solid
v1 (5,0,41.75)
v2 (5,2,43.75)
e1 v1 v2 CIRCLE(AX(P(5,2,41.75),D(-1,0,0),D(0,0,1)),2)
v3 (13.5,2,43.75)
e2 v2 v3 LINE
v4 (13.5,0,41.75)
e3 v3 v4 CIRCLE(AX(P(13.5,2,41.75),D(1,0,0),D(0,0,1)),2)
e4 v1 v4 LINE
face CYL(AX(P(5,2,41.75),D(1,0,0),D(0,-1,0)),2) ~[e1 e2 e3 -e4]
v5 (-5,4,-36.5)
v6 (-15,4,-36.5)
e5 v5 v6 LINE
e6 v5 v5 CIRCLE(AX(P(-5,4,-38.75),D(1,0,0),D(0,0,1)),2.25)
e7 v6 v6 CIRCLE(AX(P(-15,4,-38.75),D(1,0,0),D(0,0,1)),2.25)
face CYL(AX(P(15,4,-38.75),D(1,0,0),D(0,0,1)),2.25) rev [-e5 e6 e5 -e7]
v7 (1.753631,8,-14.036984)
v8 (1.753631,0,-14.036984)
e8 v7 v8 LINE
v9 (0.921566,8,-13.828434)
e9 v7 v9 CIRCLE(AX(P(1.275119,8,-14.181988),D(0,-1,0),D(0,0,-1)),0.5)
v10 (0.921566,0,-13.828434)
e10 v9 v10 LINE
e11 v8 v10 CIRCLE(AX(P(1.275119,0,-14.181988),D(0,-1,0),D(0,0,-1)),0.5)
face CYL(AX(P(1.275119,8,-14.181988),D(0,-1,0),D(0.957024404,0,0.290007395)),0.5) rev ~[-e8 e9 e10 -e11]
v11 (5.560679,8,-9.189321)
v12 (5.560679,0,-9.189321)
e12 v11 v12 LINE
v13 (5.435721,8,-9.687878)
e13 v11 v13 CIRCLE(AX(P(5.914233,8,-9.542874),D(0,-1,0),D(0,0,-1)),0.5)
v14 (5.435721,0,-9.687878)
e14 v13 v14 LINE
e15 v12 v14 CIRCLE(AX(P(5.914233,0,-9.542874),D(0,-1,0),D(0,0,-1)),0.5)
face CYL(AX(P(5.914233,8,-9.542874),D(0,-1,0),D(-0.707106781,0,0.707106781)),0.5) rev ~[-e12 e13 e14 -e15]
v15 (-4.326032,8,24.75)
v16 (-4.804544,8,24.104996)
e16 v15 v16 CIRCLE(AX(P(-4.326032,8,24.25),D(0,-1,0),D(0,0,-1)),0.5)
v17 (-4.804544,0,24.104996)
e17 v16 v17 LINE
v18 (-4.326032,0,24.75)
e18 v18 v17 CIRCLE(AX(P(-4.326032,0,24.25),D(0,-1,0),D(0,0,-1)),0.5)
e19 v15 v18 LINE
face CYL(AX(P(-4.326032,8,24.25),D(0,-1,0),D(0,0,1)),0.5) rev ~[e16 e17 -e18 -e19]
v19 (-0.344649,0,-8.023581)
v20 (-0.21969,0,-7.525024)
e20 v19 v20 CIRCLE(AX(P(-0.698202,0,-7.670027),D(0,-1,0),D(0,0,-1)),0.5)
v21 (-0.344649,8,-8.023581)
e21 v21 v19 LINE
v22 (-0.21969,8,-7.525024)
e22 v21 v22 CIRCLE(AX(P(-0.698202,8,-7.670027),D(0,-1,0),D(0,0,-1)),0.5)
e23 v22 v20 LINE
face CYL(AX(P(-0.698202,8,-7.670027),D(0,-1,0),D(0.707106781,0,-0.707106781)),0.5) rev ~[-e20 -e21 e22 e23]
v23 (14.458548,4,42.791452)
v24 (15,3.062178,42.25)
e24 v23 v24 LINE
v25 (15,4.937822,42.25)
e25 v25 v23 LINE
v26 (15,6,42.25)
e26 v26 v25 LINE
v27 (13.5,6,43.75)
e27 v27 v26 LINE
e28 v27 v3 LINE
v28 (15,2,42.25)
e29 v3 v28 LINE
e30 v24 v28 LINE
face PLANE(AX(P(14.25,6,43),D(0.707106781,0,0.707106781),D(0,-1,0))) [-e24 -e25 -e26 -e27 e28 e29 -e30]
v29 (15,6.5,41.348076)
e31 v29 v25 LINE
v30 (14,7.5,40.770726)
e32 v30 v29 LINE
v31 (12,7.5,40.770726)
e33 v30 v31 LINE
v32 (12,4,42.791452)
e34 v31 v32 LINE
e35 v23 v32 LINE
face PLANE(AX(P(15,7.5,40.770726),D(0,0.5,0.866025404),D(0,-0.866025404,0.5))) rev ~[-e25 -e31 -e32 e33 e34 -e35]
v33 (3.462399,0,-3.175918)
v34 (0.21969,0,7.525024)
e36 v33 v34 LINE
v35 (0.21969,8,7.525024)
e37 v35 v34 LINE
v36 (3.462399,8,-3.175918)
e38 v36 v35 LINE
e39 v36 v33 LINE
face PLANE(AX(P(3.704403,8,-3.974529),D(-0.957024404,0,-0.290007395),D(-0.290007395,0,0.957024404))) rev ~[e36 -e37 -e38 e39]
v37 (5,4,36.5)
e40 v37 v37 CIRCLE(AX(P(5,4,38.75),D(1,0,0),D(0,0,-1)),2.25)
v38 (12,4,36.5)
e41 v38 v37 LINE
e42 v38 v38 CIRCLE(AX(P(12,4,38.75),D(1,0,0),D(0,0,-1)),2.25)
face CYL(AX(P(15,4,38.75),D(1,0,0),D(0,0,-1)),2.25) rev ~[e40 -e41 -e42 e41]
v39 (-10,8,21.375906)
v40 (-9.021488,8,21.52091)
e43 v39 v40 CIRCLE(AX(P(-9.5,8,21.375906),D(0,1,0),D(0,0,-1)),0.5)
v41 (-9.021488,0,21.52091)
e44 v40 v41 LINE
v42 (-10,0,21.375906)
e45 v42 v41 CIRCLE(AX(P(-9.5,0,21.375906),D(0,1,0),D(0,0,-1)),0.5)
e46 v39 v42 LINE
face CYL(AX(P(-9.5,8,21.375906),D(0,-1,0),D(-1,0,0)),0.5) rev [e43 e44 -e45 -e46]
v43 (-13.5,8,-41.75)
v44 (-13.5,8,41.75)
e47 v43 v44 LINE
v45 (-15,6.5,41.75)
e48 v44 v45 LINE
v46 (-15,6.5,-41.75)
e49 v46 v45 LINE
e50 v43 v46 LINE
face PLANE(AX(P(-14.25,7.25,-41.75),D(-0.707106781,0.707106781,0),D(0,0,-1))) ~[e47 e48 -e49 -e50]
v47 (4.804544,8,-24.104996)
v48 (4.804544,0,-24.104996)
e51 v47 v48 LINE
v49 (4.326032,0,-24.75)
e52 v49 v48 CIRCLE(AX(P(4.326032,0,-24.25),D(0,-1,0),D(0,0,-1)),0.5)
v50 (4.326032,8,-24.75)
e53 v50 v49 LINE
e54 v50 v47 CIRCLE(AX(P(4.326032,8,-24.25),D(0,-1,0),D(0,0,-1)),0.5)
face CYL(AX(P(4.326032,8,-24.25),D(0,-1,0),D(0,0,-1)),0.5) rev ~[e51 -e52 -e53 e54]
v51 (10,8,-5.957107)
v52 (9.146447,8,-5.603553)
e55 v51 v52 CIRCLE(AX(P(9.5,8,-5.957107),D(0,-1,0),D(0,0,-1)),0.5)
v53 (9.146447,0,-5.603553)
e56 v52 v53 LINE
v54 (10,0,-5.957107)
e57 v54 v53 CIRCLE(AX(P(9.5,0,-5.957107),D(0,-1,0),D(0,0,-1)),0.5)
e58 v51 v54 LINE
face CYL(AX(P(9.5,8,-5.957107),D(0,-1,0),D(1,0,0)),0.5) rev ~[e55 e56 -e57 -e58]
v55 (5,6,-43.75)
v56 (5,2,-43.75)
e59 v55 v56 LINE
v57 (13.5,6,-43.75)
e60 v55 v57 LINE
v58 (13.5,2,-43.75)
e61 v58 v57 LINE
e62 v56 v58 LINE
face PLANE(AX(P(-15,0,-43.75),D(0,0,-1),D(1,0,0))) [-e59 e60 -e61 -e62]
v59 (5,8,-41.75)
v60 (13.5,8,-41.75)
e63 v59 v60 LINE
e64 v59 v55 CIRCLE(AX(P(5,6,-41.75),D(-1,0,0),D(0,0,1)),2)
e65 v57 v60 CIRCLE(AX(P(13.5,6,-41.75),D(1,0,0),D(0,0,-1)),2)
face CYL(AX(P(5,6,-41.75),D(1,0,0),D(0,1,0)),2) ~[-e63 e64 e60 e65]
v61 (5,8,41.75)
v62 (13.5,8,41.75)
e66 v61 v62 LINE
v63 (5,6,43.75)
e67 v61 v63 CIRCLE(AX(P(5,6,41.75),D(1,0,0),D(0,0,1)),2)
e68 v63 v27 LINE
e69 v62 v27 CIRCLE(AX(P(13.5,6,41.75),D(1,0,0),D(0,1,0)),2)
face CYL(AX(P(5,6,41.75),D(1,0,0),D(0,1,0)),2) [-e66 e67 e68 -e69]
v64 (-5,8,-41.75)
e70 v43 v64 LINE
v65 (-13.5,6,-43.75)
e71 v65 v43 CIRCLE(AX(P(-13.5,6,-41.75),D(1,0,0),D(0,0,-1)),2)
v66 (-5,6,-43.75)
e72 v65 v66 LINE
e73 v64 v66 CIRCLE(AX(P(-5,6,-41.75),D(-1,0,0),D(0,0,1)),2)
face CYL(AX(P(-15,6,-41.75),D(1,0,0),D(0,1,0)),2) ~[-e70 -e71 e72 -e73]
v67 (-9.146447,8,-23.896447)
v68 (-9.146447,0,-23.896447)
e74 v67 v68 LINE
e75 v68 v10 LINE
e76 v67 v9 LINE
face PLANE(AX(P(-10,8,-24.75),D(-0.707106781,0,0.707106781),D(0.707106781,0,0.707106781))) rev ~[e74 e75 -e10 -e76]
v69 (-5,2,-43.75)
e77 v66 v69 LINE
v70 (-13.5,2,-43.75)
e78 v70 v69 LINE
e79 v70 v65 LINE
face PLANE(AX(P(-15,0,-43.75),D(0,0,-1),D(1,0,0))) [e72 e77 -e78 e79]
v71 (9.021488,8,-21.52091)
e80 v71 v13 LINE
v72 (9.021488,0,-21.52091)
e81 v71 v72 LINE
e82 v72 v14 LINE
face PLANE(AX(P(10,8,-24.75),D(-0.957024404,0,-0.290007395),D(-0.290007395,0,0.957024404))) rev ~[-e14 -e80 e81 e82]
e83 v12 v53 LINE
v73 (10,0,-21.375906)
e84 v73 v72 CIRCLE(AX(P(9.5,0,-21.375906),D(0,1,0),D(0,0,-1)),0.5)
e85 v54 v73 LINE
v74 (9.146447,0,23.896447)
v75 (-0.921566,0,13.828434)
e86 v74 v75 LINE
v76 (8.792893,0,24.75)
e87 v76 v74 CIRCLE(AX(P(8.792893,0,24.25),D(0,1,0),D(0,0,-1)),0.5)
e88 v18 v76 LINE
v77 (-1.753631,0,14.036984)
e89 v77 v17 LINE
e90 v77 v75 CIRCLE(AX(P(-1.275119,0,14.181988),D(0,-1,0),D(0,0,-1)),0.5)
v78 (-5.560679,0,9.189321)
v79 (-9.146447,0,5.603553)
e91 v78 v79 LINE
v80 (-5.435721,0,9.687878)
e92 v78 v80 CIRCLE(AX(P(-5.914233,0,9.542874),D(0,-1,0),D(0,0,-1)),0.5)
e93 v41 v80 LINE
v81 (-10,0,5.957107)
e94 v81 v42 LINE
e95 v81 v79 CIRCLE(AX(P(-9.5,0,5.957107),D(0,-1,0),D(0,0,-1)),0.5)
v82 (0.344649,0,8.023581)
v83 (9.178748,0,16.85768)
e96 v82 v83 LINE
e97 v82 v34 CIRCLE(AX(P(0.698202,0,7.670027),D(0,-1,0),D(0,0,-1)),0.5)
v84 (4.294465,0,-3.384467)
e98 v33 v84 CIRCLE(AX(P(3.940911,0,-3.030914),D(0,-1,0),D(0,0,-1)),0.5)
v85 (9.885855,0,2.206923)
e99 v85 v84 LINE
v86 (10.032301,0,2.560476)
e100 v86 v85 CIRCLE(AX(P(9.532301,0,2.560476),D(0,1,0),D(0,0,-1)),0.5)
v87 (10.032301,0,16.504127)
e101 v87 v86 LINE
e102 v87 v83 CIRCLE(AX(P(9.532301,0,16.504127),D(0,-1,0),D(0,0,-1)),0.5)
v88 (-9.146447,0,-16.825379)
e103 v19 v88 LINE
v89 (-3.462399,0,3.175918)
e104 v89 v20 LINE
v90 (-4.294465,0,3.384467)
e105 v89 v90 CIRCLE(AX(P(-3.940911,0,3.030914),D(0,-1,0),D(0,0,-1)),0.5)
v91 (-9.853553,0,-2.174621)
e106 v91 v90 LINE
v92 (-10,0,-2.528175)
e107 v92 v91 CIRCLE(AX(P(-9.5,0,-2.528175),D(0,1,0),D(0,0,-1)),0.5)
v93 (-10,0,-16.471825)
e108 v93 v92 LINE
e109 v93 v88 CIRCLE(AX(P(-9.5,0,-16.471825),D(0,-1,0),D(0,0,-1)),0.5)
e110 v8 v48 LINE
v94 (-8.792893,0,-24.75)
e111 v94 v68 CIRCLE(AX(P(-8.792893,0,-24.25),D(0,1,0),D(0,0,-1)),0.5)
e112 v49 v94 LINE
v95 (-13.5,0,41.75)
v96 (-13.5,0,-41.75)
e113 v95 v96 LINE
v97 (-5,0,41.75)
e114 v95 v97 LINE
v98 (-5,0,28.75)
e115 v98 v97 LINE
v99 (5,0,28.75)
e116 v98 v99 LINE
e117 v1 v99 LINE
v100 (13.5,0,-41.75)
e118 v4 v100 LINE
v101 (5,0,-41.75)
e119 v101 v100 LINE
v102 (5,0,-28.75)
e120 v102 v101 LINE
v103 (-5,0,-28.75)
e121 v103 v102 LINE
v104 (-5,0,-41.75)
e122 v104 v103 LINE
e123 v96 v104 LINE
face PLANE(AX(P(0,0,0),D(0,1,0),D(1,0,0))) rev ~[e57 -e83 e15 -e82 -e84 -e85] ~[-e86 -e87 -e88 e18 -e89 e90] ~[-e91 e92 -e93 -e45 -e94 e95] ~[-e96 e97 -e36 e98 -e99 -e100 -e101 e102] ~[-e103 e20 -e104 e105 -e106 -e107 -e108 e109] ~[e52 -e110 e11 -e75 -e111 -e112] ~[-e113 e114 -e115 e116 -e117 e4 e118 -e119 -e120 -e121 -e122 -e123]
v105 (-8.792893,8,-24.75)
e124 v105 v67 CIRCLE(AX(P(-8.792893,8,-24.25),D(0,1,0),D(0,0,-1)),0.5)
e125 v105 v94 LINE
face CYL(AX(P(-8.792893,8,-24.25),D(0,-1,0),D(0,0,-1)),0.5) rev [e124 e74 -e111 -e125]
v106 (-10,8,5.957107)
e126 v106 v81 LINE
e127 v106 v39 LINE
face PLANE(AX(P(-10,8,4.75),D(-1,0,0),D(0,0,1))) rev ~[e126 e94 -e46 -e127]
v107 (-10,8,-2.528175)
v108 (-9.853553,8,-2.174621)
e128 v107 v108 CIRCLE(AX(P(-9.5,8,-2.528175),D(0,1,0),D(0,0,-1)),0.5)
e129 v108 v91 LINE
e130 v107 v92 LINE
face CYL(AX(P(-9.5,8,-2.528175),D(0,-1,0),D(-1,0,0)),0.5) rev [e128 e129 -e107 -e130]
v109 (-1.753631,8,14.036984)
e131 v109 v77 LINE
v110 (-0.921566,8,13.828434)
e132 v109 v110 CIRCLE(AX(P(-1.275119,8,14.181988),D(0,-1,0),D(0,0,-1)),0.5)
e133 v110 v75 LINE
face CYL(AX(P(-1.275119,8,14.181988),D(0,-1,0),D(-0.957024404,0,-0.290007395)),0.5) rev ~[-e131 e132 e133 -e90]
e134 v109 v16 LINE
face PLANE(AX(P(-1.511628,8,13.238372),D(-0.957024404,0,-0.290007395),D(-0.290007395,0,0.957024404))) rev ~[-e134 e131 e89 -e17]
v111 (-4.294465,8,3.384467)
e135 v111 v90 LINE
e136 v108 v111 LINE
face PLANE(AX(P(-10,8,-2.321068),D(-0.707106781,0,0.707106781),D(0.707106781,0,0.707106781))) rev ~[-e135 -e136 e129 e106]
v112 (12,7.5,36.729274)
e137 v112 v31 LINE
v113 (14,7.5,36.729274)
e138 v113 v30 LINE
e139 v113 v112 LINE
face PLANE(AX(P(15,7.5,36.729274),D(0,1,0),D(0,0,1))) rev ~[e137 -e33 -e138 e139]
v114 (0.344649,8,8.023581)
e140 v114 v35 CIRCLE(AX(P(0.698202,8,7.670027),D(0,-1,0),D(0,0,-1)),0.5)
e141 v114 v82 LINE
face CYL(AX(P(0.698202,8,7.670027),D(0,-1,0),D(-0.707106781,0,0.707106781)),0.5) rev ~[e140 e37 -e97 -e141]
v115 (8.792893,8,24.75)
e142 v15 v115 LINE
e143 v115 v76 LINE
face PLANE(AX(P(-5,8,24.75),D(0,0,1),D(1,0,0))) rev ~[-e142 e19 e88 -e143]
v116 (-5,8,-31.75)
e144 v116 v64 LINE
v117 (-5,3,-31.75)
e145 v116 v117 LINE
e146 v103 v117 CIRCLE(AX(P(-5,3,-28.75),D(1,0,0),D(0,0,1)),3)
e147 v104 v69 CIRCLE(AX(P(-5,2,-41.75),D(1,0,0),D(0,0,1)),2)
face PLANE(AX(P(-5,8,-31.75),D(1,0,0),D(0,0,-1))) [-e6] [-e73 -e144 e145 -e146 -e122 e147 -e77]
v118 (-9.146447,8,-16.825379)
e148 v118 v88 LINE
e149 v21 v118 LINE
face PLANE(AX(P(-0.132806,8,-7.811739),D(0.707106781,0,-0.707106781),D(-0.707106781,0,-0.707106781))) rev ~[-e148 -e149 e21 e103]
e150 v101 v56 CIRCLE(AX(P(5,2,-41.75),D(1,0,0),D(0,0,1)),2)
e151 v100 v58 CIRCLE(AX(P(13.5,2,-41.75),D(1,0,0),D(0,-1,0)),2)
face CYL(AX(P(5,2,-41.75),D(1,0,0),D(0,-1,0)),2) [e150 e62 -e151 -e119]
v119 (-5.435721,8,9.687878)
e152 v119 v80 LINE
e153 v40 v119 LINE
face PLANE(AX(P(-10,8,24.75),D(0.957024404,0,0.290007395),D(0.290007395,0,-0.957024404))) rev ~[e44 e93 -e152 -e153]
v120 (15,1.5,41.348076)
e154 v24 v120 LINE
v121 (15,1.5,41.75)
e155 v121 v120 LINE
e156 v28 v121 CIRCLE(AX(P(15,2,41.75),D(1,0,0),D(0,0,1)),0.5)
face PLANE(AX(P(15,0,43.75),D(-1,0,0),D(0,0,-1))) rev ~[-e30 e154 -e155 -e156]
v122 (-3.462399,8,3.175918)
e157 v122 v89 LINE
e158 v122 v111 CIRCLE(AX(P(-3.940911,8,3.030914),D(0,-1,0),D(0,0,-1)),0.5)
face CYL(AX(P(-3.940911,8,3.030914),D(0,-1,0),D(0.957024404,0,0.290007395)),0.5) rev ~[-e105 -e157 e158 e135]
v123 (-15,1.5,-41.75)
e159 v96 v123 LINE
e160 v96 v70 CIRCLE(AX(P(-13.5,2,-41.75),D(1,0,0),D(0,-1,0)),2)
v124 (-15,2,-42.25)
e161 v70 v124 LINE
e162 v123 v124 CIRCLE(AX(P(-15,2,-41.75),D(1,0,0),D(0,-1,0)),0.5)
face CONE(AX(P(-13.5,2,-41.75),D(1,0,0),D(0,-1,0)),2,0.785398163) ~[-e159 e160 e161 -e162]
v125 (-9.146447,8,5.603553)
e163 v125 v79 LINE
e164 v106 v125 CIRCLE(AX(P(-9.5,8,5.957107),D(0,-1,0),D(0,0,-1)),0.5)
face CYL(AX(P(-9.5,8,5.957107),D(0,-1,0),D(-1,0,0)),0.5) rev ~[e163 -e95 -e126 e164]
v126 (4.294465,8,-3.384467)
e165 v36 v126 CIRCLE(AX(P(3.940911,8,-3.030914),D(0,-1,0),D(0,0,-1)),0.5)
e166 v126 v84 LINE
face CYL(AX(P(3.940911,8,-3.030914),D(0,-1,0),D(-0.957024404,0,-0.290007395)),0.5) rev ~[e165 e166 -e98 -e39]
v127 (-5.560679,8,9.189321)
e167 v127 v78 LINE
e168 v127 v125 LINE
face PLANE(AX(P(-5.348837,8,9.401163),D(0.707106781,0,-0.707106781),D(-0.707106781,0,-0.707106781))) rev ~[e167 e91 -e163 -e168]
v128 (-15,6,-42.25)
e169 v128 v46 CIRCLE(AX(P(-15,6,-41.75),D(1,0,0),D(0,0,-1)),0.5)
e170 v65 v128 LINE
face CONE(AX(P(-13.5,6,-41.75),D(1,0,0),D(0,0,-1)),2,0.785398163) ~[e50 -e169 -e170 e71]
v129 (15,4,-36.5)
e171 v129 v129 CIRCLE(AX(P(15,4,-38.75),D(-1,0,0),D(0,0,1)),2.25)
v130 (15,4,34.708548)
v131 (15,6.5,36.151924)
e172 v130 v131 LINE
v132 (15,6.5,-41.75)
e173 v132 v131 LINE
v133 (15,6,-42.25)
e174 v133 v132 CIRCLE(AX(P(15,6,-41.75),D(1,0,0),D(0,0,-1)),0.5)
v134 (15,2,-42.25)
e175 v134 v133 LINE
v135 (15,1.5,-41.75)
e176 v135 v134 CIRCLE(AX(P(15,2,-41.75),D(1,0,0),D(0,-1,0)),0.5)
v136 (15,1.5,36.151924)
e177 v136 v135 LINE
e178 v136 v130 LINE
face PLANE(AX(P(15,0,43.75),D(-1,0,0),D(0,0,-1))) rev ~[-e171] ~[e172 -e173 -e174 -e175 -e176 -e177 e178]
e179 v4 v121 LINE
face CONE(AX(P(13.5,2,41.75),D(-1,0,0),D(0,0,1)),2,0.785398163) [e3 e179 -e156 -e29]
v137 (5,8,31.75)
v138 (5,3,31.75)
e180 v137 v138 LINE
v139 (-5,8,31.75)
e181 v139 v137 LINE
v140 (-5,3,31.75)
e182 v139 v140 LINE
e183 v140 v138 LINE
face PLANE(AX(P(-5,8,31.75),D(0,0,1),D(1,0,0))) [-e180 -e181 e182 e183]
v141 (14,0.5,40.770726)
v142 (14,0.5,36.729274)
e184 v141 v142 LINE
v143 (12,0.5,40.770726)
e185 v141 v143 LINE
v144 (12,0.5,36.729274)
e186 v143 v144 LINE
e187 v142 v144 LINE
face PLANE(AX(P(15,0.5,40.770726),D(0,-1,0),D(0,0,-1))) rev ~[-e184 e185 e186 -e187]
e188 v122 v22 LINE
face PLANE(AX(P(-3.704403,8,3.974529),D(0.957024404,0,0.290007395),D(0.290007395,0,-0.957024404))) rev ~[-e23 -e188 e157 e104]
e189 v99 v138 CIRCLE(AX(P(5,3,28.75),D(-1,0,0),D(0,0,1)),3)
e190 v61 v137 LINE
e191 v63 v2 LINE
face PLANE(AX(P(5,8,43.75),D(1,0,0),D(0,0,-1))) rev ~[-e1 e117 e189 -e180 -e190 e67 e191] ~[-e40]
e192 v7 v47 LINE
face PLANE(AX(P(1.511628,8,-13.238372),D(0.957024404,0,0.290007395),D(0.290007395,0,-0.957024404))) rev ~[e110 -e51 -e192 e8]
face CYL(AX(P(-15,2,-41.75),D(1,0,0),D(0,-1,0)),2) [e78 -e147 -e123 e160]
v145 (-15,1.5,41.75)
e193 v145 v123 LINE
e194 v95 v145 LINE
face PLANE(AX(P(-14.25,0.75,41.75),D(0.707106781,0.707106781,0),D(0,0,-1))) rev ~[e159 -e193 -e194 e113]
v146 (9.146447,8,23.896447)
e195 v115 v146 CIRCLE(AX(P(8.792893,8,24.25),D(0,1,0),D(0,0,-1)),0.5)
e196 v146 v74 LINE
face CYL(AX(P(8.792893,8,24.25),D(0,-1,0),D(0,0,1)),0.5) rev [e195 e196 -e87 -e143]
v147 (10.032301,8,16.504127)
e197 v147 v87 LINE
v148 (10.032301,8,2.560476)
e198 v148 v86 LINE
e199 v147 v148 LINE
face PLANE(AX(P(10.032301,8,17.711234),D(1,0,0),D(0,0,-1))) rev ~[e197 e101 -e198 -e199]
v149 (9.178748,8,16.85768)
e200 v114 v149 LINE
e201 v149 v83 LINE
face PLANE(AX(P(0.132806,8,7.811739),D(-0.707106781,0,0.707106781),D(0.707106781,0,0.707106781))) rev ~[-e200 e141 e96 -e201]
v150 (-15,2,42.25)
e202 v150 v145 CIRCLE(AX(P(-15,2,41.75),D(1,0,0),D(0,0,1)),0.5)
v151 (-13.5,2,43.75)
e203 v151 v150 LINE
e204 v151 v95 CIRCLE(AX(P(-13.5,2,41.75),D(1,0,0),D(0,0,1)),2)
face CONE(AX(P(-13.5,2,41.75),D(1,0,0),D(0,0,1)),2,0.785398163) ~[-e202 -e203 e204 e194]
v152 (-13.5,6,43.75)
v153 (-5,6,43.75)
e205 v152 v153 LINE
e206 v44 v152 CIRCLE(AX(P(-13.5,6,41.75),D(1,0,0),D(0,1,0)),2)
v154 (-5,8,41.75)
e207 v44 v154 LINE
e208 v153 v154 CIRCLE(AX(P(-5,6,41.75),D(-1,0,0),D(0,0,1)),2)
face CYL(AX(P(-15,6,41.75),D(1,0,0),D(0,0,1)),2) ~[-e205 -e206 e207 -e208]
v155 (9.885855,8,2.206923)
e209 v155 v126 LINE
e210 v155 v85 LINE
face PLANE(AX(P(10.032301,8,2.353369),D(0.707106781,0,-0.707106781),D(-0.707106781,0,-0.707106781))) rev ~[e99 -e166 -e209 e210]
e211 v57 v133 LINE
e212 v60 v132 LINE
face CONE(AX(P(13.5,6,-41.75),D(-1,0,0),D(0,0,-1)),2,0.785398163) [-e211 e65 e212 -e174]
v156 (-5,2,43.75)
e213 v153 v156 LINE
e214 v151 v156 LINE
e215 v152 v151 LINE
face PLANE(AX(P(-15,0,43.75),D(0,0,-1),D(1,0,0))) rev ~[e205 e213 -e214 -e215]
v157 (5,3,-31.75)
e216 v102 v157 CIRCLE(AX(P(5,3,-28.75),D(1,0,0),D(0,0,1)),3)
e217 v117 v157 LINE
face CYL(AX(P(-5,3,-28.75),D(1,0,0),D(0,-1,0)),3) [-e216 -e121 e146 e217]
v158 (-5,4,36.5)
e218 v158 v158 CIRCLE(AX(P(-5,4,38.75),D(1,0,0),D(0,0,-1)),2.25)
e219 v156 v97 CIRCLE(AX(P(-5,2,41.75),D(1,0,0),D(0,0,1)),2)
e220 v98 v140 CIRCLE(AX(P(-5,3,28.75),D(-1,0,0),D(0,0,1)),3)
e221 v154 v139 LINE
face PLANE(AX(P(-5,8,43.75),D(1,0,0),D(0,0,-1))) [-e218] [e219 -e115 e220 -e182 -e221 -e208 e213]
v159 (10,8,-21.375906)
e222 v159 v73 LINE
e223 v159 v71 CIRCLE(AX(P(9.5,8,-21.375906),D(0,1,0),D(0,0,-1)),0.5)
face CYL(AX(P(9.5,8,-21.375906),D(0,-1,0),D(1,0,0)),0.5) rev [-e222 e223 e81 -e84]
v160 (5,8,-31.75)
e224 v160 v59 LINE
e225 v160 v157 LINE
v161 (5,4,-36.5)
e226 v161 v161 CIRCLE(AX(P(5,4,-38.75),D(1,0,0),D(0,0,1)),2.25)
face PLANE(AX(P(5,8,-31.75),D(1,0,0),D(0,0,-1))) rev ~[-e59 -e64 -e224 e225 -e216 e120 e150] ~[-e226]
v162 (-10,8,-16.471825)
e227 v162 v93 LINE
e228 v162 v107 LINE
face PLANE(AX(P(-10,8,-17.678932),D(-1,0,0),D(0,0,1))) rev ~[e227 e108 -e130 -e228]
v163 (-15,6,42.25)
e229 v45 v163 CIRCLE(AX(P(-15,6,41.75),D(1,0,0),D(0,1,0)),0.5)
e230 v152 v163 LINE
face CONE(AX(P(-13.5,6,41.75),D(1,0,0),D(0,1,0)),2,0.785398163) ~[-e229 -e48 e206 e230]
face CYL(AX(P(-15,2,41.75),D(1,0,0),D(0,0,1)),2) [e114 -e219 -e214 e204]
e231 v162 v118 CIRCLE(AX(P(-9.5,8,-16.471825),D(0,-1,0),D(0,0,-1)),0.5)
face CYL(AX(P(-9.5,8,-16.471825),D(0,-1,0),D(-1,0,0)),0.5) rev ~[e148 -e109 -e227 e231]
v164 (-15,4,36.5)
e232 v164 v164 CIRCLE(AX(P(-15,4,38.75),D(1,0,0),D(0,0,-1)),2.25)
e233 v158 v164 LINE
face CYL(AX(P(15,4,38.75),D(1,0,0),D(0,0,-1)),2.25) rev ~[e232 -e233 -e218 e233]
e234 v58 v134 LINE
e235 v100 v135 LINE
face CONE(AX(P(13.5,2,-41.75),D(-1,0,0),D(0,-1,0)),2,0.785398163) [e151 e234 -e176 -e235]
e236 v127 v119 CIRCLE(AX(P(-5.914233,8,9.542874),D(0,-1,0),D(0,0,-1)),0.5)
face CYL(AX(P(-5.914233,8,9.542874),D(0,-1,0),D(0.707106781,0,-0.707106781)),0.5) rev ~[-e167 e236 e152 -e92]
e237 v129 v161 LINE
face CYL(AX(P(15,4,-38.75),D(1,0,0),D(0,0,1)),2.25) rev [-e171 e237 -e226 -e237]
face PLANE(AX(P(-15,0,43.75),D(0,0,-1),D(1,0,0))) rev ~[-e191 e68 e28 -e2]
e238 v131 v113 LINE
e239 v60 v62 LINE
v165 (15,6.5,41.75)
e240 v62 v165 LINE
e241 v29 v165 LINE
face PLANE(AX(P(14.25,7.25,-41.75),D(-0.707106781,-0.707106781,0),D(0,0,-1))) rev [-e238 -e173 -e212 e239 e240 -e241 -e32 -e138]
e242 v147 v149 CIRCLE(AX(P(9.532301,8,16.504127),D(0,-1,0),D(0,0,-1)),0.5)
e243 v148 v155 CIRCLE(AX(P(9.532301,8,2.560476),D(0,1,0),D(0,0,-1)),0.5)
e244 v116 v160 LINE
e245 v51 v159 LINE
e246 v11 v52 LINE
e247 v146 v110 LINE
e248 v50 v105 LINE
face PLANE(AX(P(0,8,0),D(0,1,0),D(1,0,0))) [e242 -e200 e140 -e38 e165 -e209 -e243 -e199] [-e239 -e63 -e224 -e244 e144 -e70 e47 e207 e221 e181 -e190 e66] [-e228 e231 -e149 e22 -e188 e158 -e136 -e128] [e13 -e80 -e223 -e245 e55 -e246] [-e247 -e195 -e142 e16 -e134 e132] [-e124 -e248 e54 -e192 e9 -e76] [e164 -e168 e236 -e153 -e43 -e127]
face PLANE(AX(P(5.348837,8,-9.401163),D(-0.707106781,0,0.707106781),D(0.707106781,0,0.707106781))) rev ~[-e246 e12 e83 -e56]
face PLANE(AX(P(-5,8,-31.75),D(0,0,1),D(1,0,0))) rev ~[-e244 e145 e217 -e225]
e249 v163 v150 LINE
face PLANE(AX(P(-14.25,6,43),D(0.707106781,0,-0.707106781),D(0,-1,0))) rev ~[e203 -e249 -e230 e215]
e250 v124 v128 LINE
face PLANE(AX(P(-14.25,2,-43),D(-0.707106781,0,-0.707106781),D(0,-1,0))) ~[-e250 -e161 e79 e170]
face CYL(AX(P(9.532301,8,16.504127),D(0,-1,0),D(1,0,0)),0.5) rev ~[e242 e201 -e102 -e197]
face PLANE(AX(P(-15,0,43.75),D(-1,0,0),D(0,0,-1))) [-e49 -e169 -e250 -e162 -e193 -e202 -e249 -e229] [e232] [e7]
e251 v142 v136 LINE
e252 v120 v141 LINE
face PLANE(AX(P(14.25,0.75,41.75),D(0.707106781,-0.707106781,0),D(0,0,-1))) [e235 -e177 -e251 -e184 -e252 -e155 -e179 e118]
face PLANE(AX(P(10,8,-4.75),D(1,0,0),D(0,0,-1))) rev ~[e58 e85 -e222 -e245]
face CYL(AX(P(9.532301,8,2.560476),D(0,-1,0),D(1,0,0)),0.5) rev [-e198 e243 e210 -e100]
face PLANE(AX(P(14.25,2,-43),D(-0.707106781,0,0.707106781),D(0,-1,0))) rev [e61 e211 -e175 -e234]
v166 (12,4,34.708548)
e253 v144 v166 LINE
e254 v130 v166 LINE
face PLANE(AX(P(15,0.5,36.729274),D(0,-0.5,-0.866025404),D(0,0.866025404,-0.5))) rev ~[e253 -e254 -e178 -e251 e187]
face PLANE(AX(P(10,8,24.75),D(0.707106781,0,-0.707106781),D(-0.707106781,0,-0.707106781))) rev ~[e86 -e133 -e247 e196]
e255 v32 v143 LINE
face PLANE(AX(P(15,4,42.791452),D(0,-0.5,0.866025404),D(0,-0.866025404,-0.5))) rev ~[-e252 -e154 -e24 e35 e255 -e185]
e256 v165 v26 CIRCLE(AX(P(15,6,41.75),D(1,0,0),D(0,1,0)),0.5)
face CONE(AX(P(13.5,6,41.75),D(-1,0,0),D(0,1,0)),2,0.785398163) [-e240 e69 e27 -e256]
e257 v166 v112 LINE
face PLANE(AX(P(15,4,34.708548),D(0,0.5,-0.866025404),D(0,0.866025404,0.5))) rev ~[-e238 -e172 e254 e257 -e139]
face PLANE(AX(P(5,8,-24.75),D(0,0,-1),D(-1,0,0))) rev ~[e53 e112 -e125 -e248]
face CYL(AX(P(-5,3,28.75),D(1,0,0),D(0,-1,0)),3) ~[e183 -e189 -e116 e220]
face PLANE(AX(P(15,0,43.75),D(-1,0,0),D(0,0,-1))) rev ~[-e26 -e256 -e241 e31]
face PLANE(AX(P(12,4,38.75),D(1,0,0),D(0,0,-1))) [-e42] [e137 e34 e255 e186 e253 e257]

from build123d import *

# Parameters (mm, degrees)
SKETCH1_W           = 30
SKETCH1_H           = 87.5
BOSS_EXTRUDE1_DEPTH = 8
SKETCH2_W           = 10
SKETCH2_H           = 12
CUT_EXTRUDE1_DEPTH  = 8
SKETCH3_R           = 2.25
CUT_EXTRUDE2_DEPTH  = 54.647576833
FILLET1_R           = 2
CUT_EXTRUDE3_DEPTH  = 47.936792605
FILLET2_R           = 3
CHAMFER1_SIZE       = 1.5
FILLET3_R           = 0.5
CUT_EXTRUDE4_DEPTH  = 3


with BuildPart() as part:
    # Sketch1 → Boss-Extrude1 (new body)
    with BuildSketch(Plane(origin=(0, 0, 0), x_dir=(1, 0, 0), z_dir=(0, 1, 0))):
        Rectangle(SKETCH1_W, SKETCH1_H)
    extrude(amount=BOSS_EXTRUDE1_DEPTH)

    # Sketch2 → Cut-Extrude1 (cut)
    with BuildSketch(Plane(origin=(0, 8, 0), x_dir=(1, 0, 0), z_dir=(0, 1, 0))):
        with Locations((0, 37.75)):
            Rectangle(SKETCH2_W, SKETCH2_H)
        with Locations((0, -37.75)):
            Rectangle(SKETCH2_W, SKETCH2_H)
    extrude(amount=-CUT_EXTRUDE1_DEPTH, mode=Mode.SUBTRACT)

    # Sketch3 → Cut-Extrude2 (cut, through all)
    with BuildSketch(Plane(origin=(15, 0, 0), x_dir=(0, 0, -1), z_dir=(1, 0, 0))):
        with Locations((-38.75, 4)):
            Circle(SKETCH3_R)
    cut_extrude2 = extrude(amount=-CUT_EXTRUDE2_DEPTH, mode=Mode.SUBTRACT)

    # Mirror1: Cut-Extrude2 across plane
    add(cut_extrude2.mirror(Plane.XY), mode=Mode.SUBTRACT)

    # Fillet1
    fillet1_edges = [part.edges().sort_by_distance(p)[0] for p in [
        (10, 0, 43.75),
        (-10, 0, -43.75),
        (-10, 8, 43.75),
        (-10, 8, -43.75),
        (10, 8, 43.75),
        (-10, 0, 43.75),
        (10, 0, -43.75),
        (10, 8, -43.75),
    ]]
    fillet(fillet1_edges, radius=FILLET1_R)

    # Sketch4 → Cut-Extrude3 (cut, through all)
    with BuildSketch(Plane(origin=(0, 8, 0), x_dir=(1, 0, 0), z_dir=(0, 1, 0))):
        Polygon((5, 24.75), (-10, 24.75), (1.511627907, 13.238372093), align=None)
        Polygon((10, 4.75), (10, 24.75), (5.348837209, 9.401162791), align=None)
        Polygon((-10, -4.75), (-10, -24.75), (-5.348837209, -9.401162791), align=None)
        Polygon((-5, -24.75), (10, -24.75), (-1.511627907, -13.238372093), align=None)
        Polygon((-10, 17.678932188), (-10, 2.321067812), (-3.704402834, -3.974529354), (-0.132806468, 7.811738656), align=None)
        Polygon((10.032301404, -17.711233593), (10.032301404, -2.353369216), (3.704402834, 3.974529354), (0.132806468, -7.811738656), align=None)
    extrude(amount=-CUT_EXTRUDE3_DEPTH, mode=Mode.SUBTRACT)

    # Fillet2
    fillet2_edges = [part.edges().sort_by_distance(p)[0] for p in [
        (0, 0, -31.75),
        (0, 0, 31.75),
    ]]
    fillet(fillet2_edges, radius=FILLET2_R)

    # Chamfer1
    chamfer1_edges = [part.edges().sort_by_distance(p)[0] for p in [
        (15, 4, -43.75),
        (15, 0, 0),
        (-15, 0, 0),
        (15, 8, 0),
        (15, 4, 43.75),
        (15, 7.414213562, 43.164213562),
        (15, 0.585786438, 43.164213562),
        (15, 7.414213562, -43.164213562),
        (15, 0.585786438, -43.164213562),
        (-15, 8, 0),
        (-15, 4, 43.75),
        (-15, 4, -43.75),
        (-15, 0.585786438, 43.164213562),
        (-15, 7.414213562, 43.164213562),
        (-15, 0.585786438, -43.164213562),
        (-15, 7.414213562, -43.164213562),
    ]]
    chamfer(chamfer1_edges, length=CHAMFER1_SIZE)

    # Fillet3
    fillet3_edges = [part.edges().sort_by_distance(p)[0] for p in [
        (-10, 4, -17.678932188),
        (-0.132806468, 4, -7.811738656),
        (-3.704402834, 4, 3.974529354),
        (-10, 4, -2.321067812),
        (-1.511627907, 4, 13.238372093),
        (10, 4, 24.75),
        (-5, 4, 24.75),
        (10, 4, -4.75),
        (5.348837209, 4, -9.401162791),
        (10, 4, -24.75),
        (-10, 4, 4.75),
        (-5.348837209, 4, 9.401162791),
        (-10, 4, 24.75),
        (10.032301404, 4, 17.711233593),
        (0.132806468, 4, 7.811738656),
        (3.704402834, 4, -3.974529354),
        (10.032301404, 4, 2.353369216),
        (5, 4, -24.75),
        (1.511627907, 4, -13.238372093),
        (-10, 4, -24.75),
    ]]
    fillet(fillet3_edges, radius=FILLET3_R)

    # Sketch5 → Cut-Extrude4 (cut)
    with BuildSketch(Plane(origin=(15, 0, 0), x_dir=(0, 0, -1), z_dir=(1, 0, 0))):
        Polygon((-34.708548116, 4), (-36.729274058, 7.5), (-40.770725942, 7.5), (-42.791451884, 4), (-40.770725942, 0.5), (-36.729274058, 0.5), align=None)
    extrude(amount=-CUT_EXTRUDE4_DEPTH, mode=Mode.SUBTRACT)


solid = part.part
